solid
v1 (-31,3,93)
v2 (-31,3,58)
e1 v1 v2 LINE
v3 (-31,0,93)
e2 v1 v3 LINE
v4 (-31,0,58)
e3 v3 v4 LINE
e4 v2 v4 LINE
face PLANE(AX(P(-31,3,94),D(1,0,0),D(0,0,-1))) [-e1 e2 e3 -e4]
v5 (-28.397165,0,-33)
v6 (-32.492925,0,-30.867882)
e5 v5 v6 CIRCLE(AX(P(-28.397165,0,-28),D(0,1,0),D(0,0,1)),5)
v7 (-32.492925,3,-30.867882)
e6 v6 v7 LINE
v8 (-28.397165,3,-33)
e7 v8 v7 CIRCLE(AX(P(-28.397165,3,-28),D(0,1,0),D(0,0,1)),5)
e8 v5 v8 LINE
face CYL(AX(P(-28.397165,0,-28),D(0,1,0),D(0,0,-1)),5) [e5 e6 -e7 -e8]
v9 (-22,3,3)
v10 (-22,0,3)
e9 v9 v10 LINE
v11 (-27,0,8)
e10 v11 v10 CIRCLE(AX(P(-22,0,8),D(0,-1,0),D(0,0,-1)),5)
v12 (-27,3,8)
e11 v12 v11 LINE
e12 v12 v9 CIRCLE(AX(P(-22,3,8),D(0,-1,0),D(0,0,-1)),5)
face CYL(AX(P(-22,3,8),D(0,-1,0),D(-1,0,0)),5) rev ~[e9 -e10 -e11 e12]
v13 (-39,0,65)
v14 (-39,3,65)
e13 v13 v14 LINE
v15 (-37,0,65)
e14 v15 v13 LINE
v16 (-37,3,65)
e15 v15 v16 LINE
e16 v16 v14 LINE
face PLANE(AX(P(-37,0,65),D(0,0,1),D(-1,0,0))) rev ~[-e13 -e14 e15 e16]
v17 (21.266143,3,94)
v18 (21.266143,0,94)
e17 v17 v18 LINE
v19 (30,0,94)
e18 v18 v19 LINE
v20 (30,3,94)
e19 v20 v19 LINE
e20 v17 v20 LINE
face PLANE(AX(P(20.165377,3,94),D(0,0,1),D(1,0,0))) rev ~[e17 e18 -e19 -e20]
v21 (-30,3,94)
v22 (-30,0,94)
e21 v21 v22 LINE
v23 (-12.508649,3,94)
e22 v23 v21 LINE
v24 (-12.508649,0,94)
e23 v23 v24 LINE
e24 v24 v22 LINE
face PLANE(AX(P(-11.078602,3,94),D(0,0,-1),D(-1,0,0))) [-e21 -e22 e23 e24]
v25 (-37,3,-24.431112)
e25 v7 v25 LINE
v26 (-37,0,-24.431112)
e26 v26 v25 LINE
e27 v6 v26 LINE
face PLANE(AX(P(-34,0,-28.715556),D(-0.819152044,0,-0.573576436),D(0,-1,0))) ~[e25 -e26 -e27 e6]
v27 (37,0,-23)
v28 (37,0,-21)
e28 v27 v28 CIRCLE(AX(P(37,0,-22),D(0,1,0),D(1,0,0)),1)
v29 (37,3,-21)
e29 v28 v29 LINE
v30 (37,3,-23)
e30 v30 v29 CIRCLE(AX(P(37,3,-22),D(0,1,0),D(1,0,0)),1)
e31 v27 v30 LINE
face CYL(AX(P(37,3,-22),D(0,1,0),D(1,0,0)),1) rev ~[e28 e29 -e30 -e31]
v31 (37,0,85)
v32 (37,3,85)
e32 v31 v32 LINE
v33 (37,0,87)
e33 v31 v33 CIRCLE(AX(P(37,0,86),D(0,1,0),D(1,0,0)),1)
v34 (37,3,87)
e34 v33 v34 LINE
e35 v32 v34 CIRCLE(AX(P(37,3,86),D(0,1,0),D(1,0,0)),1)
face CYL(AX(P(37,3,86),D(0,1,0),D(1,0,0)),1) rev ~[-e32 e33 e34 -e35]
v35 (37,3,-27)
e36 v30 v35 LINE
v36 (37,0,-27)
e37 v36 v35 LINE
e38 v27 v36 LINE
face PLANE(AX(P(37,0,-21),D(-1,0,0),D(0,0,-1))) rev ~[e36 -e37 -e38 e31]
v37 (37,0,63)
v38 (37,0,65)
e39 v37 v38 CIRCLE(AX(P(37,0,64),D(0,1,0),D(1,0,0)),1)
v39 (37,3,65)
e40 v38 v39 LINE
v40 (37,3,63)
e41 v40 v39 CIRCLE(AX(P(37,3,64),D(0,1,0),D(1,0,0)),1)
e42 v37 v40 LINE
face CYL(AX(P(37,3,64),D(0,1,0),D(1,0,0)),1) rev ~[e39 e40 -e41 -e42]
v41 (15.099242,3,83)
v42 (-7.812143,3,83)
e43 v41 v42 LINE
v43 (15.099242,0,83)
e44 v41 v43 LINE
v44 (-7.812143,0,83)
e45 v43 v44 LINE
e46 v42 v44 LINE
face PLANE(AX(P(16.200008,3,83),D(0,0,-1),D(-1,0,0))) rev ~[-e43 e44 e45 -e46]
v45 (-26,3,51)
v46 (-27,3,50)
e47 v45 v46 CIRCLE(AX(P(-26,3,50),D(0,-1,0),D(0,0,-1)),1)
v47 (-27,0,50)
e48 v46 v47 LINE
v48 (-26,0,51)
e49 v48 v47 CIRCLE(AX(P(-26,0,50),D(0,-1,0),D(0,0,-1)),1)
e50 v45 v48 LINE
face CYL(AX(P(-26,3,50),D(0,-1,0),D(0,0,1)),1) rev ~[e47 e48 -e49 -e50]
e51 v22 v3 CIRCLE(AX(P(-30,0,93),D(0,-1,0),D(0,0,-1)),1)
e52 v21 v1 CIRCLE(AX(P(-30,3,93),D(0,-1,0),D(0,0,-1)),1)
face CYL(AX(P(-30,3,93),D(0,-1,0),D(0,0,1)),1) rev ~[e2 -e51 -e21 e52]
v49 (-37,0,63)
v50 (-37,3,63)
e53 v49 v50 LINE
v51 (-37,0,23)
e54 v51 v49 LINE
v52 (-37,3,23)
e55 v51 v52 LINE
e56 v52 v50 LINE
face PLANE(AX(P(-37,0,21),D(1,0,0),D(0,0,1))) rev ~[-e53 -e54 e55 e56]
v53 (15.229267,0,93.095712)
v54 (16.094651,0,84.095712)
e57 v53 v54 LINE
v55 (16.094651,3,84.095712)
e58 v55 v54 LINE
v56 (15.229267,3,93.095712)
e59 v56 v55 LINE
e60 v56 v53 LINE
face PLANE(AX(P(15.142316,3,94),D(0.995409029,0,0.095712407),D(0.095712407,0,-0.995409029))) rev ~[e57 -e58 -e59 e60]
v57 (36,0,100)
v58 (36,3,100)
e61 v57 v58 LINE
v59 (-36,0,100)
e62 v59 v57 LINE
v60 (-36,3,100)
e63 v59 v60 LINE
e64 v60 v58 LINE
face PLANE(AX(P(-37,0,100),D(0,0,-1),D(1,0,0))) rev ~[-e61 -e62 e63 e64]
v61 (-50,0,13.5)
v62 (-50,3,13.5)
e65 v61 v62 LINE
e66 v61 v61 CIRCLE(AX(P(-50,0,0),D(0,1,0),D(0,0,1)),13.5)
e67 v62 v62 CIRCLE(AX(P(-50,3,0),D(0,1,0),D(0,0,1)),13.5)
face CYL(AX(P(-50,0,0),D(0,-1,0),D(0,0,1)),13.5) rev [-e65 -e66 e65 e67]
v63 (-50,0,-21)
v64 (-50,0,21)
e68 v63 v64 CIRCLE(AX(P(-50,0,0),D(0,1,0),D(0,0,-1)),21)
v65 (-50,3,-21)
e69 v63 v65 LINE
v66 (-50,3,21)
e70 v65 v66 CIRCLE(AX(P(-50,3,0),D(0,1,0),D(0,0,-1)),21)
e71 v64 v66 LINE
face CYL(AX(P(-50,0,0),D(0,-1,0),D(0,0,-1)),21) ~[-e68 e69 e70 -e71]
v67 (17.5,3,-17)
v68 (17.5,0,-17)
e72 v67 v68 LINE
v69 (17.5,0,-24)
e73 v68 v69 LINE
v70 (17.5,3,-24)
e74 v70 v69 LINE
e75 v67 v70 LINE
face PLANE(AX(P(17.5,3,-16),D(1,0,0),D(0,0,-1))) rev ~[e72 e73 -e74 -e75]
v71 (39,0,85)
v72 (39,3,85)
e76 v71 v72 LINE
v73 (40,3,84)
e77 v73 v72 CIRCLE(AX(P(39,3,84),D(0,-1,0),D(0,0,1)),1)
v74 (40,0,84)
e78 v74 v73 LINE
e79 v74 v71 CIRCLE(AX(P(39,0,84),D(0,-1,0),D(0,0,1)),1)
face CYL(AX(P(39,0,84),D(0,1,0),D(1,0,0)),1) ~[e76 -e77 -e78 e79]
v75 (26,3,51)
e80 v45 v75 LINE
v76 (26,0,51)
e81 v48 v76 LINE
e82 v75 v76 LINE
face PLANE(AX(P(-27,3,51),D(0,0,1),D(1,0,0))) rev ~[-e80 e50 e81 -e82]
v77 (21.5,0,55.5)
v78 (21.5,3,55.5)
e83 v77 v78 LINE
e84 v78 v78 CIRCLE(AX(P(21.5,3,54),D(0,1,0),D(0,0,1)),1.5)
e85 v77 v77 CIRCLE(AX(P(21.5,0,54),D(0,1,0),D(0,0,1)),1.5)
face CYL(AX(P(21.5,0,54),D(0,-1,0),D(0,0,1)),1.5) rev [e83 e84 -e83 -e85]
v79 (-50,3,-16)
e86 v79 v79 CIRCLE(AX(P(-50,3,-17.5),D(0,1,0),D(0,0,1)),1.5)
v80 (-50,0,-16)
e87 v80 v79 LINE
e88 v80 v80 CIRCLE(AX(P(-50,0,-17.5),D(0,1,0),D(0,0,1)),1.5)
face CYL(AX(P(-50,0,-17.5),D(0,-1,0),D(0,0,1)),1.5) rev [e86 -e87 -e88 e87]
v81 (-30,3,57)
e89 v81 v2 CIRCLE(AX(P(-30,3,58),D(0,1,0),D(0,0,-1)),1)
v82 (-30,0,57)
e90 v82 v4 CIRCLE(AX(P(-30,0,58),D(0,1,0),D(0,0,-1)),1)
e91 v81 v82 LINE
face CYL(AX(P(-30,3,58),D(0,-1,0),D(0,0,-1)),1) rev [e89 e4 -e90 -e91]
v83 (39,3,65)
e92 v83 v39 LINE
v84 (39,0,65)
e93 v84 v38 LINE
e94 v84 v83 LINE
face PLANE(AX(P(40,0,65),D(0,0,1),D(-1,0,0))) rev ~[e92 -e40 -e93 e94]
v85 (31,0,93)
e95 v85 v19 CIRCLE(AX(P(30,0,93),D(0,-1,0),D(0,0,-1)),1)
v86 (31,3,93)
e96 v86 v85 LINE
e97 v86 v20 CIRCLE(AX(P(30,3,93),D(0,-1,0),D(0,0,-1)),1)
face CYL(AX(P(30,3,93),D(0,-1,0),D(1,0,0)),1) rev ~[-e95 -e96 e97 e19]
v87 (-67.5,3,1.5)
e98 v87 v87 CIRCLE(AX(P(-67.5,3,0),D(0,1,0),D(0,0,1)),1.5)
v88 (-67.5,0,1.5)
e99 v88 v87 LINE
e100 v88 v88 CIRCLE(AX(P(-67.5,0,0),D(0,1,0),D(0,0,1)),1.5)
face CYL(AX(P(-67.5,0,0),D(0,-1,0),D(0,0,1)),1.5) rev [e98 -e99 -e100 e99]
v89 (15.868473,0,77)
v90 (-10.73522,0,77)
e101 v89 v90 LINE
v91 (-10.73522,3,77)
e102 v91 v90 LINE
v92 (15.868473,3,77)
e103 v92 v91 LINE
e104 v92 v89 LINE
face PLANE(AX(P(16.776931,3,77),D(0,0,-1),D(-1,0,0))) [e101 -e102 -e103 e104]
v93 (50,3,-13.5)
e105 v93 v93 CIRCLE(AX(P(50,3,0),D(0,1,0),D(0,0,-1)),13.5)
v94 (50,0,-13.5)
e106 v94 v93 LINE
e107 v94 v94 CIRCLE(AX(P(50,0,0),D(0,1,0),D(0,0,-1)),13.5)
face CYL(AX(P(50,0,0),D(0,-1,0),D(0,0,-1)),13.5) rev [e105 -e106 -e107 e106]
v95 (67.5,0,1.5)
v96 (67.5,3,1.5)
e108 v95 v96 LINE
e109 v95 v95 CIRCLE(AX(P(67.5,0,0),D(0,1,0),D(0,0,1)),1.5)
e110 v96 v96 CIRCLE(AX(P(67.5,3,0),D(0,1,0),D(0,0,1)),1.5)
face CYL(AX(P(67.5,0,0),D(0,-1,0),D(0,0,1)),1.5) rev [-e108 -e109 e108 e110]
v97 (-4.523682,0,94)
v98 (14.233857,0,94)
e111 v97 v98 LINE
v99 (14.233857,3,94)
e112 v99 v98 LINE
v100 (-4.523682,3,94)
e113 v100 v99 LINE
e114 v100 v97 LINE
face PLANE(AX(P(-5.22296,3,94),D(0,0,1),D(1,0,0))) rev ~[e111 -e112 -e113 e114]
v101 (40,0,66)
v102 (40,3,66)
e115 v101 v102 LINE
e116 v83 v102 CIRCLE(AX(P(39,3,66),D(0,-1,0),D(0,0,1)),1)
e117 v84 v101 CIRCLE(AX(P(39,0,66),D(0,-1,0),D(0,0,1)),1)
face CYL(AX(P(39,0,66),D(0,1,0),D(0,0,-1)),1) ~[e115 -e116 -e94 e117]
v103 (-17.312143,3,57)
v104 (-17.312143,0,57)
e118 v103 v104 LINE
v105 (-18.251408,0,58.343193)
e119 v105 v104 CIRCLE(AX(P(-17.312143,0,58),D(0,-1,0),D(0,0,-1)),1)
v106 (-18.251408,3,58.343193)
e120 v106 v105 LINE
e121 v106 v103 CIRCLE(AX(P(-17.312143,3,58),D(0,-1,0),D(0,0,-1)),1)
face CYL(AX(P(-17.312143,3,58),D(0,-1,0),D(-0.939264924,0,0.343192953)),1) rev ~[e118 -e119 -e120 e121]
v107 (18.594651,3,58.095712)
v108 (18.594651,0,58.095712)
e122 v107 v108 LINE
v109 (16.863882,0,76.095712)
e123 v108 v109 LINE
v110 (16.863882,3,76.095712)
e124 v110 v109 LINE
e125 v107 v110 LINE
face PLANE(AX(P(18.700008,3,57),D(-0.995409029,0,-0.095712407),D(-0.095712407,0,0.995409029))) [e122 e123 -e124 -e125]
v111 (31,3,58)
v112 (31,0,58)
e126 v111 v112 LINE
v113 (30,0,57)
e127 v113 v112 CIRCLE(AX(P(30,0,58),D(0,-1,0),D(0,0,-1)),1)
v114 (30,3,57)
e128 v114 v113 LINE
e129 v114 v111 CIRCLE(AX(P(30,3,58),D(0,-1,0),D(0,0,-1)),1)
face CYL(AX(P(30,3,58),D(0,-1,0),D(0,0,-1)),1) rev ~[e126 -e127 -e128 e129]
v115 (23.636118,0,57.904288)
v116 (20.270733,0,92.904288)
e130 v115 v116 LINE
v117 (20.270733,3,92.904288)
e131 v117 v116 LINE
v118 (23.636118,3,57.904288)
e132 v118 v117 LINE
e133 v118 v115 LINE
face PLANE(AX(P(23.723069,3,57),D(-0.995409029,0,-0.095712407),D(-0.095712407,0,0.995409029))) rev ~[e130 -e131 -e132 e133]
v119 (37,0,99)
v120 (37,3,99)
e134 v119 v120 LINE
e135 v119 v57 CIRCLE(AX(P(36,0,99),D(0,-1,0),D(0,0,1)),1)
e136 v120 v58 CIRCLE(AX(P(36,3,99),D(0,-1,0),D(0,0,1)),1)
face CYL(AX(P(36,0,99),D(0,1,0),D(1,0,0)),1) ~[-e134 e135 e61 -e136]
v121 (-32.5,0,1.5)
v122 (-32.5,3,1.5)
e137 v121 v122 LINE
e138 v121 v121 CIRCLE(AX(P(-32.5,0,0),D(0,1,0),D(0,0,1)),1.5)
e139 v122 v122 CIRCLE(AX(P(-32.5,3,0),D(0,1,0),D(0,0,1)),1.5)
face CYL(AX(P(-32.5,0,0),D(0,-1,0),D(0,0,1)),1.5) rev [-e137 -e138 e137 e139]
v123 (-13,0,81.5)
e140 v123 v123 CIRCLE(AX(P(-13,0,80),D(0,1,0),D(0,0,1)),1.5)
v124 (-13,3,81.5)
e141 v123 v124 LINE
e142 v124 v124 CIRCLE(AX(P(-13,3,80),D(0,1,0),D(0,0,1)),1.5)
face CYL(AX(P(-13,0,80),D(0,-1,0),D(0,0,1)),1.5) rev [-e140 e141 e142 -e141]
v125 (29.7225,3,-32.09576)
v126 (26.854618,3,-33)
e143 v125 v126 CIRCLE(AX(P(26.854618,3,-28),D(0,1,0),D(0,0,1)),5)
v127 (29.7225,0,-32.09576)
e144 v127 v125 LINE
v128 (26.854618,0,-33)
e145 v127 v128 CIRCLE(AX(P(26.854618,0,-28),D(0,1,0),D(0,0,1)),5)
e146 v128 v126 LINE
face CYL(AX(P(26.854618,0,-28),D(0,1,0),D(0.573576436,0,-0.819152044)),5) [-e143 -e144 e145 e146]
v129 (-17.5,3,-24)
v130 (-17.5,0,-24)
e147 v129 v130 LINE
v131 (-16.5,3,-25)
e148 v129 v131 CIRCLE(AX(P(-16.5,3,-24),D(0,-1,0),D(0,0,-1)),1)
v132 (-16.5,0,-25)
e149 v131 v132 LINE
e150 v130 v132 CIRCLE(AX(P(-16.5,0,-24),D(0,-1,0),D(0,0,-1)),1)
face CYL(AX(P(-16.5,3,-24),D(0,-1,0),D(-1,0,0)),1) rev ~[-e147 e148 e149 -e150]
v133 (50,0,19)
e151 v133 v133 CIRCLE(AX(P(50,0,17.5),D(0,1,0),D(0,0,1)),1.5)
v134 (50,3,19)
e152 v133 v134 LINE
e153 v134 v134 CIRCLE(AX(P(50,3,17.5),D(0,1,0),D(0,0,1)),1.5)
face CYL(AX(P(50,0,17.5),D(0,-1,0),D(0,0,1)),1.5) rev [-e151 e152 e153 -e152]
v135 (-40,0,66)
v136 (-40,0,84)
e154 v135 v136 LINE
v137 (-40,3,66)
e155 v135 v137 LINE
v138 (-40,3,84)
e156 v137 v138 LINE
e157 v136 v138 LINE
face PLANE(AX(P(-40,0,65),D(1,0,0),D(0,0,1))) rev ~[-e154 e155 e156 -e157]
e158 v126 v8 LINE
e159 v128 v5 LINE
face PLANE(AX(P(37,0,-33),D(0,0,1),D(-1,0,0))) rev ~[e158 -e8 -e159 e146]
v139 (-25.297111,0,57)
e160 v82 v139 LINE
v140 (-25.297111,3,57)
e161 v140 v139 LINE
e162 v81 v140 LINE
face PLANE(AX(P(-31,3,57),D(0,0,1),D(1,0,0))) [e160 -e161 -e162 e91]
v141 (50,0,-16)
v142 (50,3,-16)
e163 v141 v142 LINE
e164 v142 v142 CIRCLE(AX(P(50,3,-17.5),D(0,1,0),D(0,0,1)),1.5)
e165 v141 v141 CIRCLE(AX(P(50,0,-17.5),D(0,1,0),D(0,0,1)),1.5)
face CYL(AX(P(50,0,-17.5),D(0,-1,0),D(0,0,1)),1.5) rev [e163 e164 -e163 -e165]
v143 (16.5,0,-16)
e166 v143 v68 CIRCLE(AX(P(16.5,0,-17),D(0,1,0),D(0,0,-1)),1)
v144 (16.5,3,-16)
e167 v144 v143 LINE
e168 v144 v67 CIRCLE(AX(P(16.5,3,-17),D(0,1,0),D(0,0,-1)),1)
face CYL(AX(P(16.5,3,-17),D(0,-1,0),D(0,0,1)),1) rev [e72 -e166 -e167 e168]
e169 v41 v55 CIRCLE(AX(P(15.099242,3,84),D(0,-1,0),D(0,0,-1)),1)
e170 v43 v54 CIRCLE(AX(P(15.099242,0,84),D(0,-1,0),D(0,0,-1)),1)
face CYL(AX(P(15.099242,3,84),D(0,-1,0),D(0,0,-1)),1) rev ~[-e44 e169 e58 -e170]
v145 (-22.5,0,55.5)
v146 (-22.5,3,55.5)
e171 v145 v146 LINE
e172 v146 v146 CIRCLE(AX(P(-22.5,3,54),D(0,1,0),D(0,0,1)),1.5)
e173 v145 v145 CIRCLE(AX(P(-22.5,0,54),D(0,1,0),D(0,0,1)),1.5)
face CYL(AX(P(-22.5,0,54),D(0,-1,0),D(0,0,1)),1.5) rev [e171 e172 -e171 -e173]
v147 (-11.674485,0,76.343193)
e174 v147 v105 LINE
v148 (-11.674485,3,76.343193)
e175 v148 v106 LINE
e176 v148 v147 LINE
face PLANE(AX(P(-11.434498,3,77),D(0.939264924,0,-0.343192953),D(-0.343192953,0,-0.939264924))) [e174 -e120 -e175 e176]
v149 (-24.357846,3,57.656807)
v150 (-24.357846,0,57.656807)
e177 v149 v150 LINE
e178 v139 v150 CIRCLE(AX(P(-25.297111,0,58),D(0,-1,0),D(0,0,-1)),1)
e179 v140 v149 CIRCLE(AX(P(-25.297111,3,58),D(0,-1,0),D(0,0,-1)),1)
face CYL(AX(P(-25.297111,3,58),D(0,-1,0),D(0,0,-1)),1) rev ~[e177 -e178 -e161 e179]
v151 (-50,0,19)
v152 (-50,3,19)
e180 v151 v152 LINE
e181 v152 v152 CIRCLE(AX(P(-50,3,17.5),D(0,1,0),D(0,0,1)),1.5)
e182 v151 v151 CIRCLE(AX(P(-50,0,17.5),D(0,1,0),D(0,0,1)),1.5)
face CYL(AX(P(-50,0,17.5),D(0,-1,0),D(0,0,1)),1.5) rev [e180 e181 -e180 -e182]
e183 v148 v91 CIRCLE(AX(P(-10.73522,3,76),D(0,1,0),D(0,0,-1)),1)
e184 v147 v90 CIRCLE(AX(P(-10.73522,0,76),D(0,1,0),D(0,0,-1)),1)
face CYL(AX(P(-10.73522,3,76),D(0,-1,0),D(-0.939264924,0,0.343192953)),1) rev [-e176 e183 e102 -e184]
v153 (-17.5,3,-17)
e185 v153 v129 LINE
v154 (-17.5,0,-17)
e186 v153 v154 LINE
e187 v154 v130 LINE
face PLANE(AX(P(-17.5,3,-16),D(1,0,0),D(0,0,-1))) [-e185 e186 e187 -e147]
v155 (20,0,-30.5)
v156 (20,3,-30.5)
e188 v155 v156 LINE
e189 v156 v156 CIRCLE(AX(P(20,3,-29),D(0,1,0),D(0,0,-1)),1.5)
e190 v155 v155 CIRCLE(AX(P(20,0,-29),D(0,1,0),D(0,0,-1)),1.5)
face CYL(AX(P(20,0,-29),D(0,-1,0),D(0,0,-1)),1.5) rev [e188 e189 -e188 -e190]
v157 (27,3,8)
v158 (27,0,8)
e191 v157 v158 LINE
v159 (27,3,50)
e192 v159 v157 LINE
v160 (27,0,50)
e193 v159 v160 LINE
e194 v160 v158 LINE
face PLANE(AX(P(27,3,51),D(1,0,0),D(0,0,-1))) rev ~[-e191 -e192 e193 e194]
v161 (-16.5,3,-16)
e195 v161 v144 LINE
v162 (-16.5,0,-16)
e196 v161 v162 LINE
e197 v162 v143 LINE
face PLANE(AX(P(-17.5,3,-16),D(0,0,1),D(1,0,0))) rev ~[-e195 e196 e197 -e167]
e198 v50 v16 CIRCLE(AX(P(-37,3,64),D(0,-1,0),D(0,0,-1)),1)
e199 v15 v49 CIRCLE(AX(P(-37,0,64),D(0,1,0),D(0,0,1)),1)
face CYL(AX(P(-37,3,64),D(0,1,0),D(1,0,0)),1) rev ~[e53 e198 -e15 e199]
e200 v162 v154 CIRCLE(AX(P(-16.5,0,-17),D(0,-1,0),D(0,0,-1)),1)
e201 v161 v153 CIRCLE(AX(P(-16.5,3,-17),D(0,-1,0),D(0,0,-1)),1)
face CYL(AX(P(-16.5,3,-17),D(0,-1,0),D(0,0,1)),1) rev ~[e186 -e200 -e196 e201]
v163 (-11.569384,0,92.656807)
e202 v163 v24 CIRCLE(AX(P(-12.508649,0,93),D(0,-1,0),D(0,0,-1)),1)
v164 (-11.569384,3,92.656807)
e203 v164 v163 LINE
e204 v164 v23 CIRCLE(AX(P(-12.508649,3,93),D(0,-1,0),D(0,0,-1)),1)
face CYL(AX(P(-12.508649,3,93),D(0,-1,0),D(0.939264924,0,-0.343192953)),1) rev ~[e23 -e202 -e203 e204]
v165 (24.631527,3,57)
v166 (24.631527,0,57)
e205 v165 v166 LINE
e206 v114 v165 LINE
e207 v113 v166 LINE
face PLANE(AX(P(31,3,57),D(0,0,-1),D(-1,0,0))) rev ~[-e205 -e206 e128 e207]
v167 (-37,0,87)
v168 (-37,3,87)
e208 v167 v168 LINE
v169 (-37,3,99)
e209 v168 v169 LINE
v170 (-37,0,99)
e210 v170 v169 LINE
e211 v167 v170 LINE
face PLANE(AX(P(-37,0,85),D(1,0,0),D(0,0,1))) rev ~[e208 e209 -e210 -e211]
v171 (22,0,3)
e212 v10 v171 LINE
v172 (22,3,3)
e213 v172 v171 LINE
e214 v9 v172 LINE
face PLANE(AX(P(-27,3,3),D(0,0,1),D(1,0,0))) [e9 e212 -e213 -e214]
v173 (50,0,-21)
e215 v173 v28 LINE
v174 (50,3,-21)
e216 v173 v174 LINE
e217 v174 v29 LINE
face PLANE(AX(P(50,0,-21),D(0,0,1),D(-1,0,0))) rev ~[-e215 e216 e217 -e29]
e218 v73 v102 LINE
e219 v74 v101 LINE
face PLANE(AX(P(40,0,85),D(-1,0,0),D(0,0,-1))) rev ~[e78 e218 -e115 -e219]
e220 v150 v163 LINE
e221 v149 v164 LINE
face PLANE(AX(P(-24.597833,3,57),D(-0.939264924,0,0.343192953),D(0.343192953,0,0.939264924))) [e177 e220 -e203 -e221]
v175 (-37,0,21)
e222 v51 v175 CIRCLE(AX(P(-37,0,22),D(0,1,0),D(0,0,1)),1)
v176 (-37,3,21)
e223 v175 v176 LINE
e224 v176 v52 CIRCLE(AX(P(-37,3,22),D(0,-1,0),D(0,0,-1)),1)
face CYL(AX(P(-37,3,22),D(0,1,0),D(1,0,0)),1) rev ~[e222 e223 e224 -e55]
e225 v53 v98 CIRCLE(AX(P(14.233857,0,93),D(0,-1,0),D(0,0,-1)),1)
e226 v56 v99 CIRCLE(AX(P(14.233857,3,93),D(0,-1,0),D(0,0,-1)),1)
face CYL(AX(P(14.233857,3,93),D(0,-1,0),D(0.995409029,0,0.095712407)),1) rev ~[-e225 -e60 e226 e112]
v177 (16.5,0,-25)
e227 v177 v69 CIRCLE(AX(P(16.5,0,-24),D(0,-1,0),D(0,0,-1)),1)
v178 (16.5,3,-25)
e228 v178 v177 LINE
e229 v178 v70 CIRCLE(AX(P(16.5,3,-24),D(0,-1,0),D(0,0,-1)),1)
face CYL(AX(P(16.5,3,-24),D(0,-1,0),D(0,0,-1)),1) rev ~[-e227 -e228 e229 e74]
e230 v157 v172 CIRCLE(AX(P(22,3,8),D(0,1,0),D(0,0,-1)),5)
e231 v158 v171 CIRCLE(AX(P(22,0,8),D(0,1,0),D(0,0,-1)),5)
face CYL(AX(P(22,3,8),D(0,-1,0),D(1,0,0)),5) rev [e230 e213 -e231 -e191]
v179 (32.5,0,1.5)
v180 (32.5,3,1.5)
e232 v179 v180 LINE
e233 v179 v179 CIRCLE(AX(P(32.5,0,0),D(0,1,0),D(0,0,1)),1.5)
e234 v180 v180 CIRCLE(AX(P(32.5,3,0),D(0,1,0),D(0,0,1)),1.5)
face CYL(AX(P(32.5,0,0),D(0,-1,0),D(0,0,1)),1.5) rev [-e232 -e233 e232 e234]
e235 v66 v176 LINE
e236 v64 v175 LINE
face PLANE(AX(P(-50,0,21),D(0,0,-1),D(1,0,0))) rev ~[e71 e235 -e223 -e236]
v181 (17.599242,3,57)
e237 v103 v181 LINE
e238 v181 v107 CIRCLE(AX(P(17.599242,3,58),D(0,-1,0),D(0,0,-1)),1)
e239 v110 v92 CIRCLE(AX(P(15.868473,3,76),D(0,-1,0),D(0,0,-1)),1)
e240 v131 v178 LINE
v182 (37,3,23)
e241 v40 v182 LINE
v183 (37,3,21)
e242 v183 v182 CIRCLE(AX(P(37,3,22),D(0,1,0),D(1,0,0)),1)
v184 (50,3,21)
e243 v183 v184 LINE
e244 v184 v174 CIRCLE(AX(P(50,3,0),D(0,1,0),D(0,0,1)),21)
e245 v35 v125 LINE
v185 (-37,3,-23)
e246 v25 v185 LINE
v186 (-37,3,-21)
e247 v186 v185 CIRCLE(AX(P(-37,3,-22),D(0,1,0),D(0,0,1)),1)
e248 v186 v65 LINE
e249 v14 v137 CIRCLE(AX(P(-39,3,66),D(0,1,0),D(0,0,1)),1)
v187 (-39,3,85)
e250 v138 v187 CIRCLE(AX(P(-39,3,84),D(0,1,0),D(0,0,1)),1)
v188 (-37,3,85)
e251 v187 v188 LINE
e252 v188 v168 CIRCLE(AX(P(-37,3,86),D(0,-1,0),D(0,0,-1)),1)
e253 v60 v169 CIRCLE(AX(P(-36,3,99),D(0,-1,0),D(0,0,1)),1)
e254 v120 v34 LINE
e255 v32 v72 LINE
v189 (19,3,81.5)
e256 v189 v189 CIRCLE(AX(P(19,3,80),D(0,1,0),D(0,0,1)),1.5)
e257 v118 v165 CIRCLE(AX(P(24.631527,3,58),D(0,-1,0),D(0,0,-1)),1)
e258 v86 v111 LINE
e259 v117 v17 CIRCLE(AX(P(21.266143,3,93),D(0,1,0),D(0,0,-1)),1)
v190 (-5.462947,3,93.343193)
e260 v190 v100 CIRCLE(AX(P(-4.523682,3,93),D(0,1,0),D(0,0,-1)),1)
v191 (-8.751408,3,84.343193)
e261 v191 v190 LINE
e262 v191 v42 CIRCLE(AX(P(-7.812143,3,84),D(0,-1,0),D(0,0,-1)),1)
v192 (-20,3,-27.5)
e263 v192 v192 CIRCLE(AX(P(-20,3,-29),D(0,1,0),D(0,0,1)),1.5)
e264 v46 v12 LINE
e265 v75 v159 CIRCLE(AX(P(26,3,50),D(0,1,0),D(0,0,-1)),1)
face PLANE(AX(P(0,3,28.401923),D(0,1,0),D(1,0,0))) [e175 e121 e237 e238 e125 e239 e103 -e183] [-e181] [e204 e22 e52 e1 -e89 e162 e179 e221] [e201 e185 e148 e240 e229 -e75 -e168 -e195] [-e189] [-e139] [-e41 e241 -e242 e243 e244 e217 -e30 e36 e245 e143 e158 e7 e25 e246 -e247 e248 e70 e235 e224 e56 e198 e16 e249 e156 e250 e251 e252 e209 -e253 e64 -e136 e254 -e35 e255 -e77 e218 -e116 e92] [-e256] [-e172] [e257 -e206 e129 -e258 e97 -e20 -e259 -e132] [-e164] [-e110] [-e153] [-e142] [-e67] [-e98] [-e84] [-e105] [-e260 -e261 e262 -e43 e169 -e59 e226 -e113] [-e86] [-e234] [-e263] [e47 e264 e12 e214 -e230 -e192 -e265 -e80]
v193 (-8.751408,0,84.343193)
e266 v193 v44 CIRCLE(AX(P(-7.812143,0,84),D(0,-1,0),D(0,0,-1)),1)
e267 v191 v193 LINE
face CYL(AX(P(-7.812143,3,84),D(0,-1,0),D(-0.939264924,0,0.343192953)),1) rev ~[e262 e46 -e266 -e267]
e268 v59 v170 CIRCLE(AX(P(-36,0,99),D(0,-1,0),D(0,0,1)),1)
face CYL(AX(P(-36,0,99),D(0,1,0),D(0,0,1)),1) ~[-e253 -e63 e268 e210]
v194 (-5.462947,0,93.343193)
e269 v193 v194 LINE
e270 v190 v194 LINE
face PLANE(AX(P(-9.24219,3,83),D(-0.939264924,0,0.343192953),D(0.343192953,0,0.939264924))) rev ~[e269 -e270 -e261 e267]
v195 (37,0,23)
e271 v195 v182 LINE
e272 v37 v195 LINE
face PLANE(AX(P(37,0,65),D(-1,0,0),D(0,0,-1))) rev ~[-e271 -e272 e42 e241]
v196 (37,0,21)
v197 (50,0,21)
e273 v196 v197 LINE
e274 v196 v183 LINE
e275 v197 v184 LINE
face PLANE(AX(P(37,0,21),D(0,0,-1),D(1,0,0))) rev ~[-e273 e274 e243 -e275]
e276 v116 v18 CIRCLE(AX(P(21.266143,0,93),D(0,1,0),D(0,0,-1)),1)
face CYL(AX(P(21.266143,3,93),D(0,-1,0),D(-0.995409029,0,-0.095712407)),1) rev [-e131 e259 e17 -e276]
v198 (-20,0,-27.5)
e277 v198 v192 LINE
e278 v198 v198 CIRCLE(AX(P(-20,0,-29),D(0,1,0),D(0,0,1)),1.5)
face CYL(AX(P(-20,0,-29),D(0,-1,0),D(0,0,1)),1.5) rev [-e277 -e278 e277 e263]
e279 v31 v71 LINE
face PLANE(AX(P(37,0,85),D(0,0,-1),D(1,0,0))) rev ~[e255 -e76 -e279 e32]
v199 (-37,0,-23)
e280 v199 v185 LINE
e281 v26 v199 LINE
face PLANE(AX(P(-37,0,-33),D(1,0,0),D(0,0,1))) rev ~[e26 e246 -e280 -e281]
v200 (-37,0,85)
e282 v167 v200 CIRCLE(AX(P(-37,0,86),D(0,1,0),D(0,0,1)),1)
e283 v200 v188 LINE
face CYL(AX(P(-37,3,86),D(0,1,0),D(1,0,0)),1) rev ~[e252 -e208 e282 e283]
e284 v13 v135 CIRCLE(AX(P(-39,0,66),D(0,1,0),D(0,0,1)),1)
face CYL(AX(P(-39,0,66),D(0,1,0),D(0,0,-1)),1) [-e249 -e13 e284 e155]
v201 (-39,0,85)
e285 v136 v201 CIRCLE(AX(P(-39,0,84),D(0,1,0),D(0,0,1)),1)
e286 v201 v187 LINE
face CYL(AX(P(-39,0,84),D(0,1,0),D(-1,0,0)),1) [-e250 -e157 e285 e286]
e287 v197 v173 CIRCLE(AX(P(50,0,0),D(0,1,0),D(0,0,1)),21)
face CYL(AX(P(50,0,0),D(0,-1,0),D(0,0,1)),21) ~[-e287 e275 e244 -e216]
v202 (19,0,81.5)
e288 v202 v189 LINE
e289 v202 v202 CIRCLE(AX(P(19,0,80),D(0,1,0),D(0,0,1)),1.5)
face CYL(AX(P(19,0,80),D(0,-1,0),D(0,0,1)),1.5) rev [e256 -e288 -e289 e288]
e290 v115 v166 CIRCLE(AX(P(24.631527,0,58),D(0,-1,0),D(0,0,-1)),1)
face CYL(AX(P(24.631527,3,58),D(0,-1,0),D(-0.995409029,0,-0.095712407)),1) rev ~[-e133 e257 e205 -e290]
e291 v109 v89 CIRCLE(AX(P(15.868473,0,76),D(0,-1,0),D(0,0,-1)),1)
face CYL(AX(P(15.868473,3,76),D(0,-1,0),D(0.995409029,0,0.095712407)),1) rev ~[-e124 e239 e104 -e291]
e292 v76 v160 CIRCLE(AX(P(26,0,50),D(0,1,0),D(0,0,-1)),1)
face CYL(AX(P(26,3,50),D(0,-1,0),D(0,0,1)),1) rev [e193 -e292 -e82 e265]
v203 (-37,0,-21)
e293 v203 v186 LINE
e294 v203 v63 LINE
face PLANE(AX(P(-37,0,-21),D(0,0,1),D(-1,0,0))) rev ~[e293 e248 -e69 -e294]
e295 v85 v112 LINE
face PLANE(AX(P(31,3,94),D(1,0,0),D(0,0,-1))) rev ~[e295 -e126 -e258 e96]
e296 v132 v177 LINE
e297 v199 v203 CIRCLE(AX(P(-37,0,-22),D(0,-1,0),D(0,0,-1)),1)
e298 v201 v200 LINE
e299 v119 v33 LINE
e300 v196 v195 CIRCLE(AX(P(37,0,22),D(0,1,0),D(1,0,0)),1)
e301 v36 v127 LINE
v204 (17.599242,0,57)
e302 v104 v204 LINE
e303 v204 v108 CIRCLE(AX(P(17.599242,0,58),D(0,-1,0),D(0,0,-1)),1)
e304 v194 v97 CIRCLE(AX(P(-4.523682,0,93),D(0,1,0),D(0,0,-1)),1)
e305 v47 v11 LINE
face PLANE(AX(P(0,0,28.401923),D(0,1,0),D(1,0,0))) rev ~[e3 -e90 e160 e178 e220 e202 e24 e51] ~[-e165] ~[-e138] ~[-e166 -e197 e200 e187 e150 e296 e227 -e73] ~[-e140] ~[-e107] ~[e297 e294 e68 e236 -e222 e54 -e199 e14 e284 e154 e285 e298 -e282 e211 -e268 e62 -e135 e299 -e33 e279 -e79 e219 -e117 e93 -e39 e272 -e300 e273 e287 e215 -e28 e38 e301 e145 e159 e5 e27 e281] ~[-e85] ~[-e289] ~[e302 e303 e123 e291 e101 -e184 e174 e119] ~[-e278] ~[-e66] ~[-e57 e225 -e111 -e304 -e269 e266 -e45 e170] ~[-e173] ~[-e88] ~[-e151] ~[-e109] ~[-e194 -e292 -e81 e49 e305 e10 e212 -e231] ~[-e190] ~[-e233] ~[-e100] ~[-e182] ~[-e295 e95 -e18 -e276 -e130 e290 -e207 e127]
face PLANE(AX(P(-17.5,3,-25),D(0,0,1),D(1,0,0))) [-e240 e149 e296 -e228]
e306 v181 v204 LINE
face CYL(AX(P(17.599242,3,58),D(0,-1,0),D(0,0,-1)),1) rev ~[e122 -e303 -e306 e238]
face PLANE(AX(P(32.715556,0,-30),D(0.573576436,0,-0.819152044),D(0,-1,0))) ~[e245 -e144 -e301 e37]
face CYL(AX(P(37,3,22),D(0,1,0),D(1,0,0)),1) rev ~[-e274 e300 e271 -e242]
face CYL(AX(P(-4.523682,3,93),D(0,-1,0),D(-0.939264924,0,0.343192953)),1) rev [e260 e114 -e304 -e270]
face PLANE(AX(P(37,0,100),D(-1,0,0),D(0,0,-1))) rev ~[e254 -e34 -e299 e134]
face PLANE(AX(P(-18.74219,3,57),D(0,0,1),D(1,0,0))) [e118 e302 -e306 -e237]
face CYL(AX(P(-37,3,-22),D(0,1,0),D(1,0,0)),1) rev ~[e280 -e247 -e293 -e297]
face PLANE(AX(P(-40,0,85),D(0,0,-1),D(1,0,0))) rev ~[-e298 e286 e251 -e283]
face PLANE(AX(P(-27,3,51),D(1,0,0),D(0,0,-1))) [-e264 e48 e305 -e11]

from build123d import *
from OCP.BRepFilletAPI import BRepFilletAPI_MakeChamfer

# Parameters (mm, degrees)
SKETCH_1_R          = 13.5
SKETCH_1_R_2        = 1.5
EXTRUDE_1_DEPTH     = 3
SKETCH_3_W          = 54
SKETCH_3_H          = 48
SKETCH_3_W_2        = 35
SKETCH_3_H_2        = 9
CUT_EXTRUDE_2_DEPTH = 123.678441464
SKETCH_2_R          = 1
CUT_EXTRUDE_1_DEPTH = 123.678441464
CHAMFER_1_SIZE      = 6
CHAMFER_1_SIZE2     = 8.56888804
FILLET_1_R          = 1
FILLET_2_R          = 5


with BuildPart() as part:
    # 草图1 → 凸台-拉伸1 (new body)
    with BuildSketch(Plane(origin=(0, 0, 0), x_dir=(1, 0, 0), z_dir=(0, 1, 0))):
        with BuildLine():
            Line((-37, 21), (-50, 21))
            ThreePointArc((-50, 21), (-71, 0), (-50, -21))
            Line((-50, -21), (-37, -21))
            Line((-37, -21), (-37, -65))
            Line((-37, -65), (-40, -65))
            Line((-40, -65), (-40, -85))
            Line((-40, -85), (-37, -85))
            Line((-37, -85), (-37, -100))
            Line((-37, -100), (37, -100))
            Line((37, -100), (37, -85))
            Line((37, -85), (40, -85))
            Line((40, -85), (40, -65))
            Line((40, -65), (37, -65))
            Line((37, -65), (37, -21))
            Line((37, -21), (50, -21))
            ThreePointArc((50, -21), (71, 0), (50, 21))
            Line((50, 21), (37, 21))
            Line((37, 21), (37, 33))
            Line((37, 33), (-37, 33))
            Line((-37, 33), (-37, 21))
        make_face()
        with Locations(Location((-50, 0, 0), (0, 0, 270))):
            Circle(SKETCH_1_R, mode=Mode.SUBTRACT)
        with Locations(Location((50, 0, 0), (0, 0, 90))):
            Circle(SKETCH_1_R, mode=Mode.SUBTRACT)
        with Locations(Location((-50, 17.5, 0), (0, 0, 270))):
            Circle(SKETCH_1_R_2, mode=Mode.SUBTRACT)
        with Locations(Location((-32.5, 0, 0), (0, 0, 270))):
            Circle(SKETCH_1_R_2, mode=Mode.SUBTRACT)
        with Locations(Location((-67.5, 0, 0), (0, 0, 270))):
            Circle(SKETCH_1_R_2, mode=Mode.SUBTRACT)
        with Locations(Location((-50, -17.5, 0), (0, 0, 270))):
            Circle(SKETCH_1_R_2, mode=Mode.SUBTRACT)
        with Locations(Location((32.5, 0, 0), (0, 0, 270))):
            Circle(SKETCH_1_R_2, mode=Mode.SUBTRACT)
        with Locations(Location((50, -17.5, 0), (0, 0, 270))):
            Circle(SKETCH_1_R_2, mode=Mode.SUBTRACT)
        with Locations(Location((50, 17.5, 0), (0, 0, 270))):
            Circle(SKETCH_1_R_2, mode=Mode.SUBTRACT)
        with Locations(Location((67.5, 0, 0), (0, 0, 270))):
            Circle(SKETCH_1_R_2, mode=Mode.SUBTRACT)
        with Locations(Location((-20, 29, 0), (0, 0, 270))):
            Circle(SKETCH_1_R_2, mode=Mode.SUBTRACT)
        with Locations(Location((20, 29, 0), (0, 0, 90))):
            Circle(SKETCH_1_R_2, mode=Mode.SUBTRACT)
        with Locations(Location((21.5, -54, 0), (0, 0, 270))):
            Circle(SKETCH_1_R_2, mode=Mode.SUBTRACT)
        with Locations(Location((-13, -80, 0), (0, 0, 270))):
            Circle(SKETCH_1_R_2, mode=Mode.SUBTRACT)
        with Locations(Location((19, -80, 0), (0, 0, 270))):
            Circle(SKETCH_1_R_2, mode=Mode.SUBTRACT)
        with Locations(Location((-22.5, -54, 0), (0, 0, 270))):
            Circle(SKETCH_1_R_2, mode=Mode.SUBTRACT)
    extrude(amount=EXTRUDE_1_DEPTH)

    # 草图3 → 切除-拉伸2 (cut, through all)
    with BuildSketch(Plane(origin=(0, 3, 0), x_dir=(1, 0, 0), z_dir=(0, 1, 0))):
        with Locations((0, -27)):
            Rectangle(SKETCH_3_W, SKETCH_3_H)
        with Locations((0, 20.5)):
            Rectangle(SKETCH_3_W_2, SKETCH_3_H_2)
        Polygon((-24.597833201, -57), (-11.078602431, -94), (-31, -94), (-31, -57), align=None)
        Polygon((-18.742190282, -57), (18.700008099, -57), (16.776931176, -77), (-11.434497974, -77), align=None)
        Polygon((-9.242190282, -83), (-5.222959512, -94), (15.142315791, -94), (16.200008099, -83), align=None)
        Polygon((23.723068824, -57), (20.165376517, -94), (31, -94), (31, -57), align=None)
    extrude(amount=-CUT_EXTRUDE_2_DEPTH, mode=Mode.SUBTRACT)

    # 草图2 → 切除-拉伸1 (cut, through all)
    with BuildSketch(Plane(origin=(0, 3, 0), x_dir=(1, 0, 0), z_dir=(0, 1, 0))):
        with Locations((-37, 22)):
            Circle(SKETCH_2_R)
        with Locations((-37, -22)):
            Circle(SKETCH_2_R)
        with Locations((-37, -64)):
            Circle(SKETCH_2_R)
        with Locations((-37, -86)):
            Circle(SKETCH_2_R)
        with Locations((37, -86)):
            Circle(SKETCH_2_R)
        with Locations((37, -64)):
            Circle(SKETCH_2_R)
        with Locations((37, -22)):
            Circle(SKETCH_2_R)
        with Locations((37, 22)):
            Circle(SKETCH_2_R)
    extrude(amount=-CUT_EXTRUDE_1_DEPTH, mode=Mode.SUBTRACT)

    # 倒角1: one chamfer whose edges measure the first distance from different faces: ONE call of the kernel's chamfer builder (chamfer() names one face for all edges)
    chamfer_1_edges_1 = [part.edges().sort_by_distance(p)[0] for p in [
        (-37, 1.5, -33),
    ]]
    chamfer_1_side_1 = [part.faces().sort_by_distance(p)[0] for p in [
        (0, 1.5, -33),
    ]]
    chamfer_1_edges_2 = [part.edges().sort_by_distance(p)[0] for p in [
        (37, 1.5, -33),
    ]]
    chamfer_1_side_2 = [part.faces().sort_by_distance(p)[0] for p in [
        (37, 1.5, -28),
    ]]
    chamfer_1 = BRepFilletAPI_MakeChamfer(part.part.solid().wrapped)
    for e in chamfer_1_edges_1:
        chamfer_1.Add(CHAMFER_1_SIZE, CHAMFER_1_SIZE2, e.wrapped, chamfer_1_side_1[0].wrapped)  # the first distance lies on this face
    for e in chamfer_1_edges_2:
        chamfer_1.Add(CHAMFER_1_SIZE, CHAMFER_1_SIZE2, e.wrapped, chamfer_1_side_2[0].wrapped)  # the first distance lies on this face
    add(Compound.cast(chamfer_1.Shape()), mode=Mode.REPLACE)

    # 圆角1
    fillet_1_edges = [part.edges().sort_by_distance(p)[0] for p in [
        (23.723068824, 1.5, 57),
        (31, 1.5, 57),
        (31, 1.5, 94),
        (20.165376517, 1.5, 94),
        (-17.5, 1.5, -16),
        (-17.5, 1.5, -25),
        (17.5, 1.5, -25),
        (17.5, 1.5, -16),
        (-11.434497974, 1.5, 77),
        (-18.742190282, 1.5, 57),
        (18.700008099, 1.5, 57),
        (16.776931176, 1.5, 77),
        (-11.078602431, 1.5, 94),
        (-31, 1.5, 94),
        (-31, 1.5, 57),
        (-24.597833201, 1.5, 57),
        (-9.242190282, 1.5, 83),
        (16.200008099, 1.5, 83),
        (15.142315791, 1.5, 94),
        (-5.222959512, 1.5, 94),
        (-27, 1.5, 51),
        (27, 1.5, 51),
        (40, 1.5, 65),
        (40, 1.5, 85),
        (37, 1.5, 100),
        (-37, 1.5, 100),
        (-40, 1.5, 85),
        (-40, 1.5, 65),
    ]]
    fillet(fillet_1_edges, radius=FILLET_1_R)

    # 圆角2
    fillet_2_edges = [part.edges().sort_by_distance(p)[0] for p in [
        (-27, 1.5, 3),
        (27, 1.5, 3),
        (-31, 1.5, -33),
        (28.43111196, 1.5, -33),
    ]]
    fillet(fillet_2_edges, radius=FILLET_2_R)


solid = part.part
